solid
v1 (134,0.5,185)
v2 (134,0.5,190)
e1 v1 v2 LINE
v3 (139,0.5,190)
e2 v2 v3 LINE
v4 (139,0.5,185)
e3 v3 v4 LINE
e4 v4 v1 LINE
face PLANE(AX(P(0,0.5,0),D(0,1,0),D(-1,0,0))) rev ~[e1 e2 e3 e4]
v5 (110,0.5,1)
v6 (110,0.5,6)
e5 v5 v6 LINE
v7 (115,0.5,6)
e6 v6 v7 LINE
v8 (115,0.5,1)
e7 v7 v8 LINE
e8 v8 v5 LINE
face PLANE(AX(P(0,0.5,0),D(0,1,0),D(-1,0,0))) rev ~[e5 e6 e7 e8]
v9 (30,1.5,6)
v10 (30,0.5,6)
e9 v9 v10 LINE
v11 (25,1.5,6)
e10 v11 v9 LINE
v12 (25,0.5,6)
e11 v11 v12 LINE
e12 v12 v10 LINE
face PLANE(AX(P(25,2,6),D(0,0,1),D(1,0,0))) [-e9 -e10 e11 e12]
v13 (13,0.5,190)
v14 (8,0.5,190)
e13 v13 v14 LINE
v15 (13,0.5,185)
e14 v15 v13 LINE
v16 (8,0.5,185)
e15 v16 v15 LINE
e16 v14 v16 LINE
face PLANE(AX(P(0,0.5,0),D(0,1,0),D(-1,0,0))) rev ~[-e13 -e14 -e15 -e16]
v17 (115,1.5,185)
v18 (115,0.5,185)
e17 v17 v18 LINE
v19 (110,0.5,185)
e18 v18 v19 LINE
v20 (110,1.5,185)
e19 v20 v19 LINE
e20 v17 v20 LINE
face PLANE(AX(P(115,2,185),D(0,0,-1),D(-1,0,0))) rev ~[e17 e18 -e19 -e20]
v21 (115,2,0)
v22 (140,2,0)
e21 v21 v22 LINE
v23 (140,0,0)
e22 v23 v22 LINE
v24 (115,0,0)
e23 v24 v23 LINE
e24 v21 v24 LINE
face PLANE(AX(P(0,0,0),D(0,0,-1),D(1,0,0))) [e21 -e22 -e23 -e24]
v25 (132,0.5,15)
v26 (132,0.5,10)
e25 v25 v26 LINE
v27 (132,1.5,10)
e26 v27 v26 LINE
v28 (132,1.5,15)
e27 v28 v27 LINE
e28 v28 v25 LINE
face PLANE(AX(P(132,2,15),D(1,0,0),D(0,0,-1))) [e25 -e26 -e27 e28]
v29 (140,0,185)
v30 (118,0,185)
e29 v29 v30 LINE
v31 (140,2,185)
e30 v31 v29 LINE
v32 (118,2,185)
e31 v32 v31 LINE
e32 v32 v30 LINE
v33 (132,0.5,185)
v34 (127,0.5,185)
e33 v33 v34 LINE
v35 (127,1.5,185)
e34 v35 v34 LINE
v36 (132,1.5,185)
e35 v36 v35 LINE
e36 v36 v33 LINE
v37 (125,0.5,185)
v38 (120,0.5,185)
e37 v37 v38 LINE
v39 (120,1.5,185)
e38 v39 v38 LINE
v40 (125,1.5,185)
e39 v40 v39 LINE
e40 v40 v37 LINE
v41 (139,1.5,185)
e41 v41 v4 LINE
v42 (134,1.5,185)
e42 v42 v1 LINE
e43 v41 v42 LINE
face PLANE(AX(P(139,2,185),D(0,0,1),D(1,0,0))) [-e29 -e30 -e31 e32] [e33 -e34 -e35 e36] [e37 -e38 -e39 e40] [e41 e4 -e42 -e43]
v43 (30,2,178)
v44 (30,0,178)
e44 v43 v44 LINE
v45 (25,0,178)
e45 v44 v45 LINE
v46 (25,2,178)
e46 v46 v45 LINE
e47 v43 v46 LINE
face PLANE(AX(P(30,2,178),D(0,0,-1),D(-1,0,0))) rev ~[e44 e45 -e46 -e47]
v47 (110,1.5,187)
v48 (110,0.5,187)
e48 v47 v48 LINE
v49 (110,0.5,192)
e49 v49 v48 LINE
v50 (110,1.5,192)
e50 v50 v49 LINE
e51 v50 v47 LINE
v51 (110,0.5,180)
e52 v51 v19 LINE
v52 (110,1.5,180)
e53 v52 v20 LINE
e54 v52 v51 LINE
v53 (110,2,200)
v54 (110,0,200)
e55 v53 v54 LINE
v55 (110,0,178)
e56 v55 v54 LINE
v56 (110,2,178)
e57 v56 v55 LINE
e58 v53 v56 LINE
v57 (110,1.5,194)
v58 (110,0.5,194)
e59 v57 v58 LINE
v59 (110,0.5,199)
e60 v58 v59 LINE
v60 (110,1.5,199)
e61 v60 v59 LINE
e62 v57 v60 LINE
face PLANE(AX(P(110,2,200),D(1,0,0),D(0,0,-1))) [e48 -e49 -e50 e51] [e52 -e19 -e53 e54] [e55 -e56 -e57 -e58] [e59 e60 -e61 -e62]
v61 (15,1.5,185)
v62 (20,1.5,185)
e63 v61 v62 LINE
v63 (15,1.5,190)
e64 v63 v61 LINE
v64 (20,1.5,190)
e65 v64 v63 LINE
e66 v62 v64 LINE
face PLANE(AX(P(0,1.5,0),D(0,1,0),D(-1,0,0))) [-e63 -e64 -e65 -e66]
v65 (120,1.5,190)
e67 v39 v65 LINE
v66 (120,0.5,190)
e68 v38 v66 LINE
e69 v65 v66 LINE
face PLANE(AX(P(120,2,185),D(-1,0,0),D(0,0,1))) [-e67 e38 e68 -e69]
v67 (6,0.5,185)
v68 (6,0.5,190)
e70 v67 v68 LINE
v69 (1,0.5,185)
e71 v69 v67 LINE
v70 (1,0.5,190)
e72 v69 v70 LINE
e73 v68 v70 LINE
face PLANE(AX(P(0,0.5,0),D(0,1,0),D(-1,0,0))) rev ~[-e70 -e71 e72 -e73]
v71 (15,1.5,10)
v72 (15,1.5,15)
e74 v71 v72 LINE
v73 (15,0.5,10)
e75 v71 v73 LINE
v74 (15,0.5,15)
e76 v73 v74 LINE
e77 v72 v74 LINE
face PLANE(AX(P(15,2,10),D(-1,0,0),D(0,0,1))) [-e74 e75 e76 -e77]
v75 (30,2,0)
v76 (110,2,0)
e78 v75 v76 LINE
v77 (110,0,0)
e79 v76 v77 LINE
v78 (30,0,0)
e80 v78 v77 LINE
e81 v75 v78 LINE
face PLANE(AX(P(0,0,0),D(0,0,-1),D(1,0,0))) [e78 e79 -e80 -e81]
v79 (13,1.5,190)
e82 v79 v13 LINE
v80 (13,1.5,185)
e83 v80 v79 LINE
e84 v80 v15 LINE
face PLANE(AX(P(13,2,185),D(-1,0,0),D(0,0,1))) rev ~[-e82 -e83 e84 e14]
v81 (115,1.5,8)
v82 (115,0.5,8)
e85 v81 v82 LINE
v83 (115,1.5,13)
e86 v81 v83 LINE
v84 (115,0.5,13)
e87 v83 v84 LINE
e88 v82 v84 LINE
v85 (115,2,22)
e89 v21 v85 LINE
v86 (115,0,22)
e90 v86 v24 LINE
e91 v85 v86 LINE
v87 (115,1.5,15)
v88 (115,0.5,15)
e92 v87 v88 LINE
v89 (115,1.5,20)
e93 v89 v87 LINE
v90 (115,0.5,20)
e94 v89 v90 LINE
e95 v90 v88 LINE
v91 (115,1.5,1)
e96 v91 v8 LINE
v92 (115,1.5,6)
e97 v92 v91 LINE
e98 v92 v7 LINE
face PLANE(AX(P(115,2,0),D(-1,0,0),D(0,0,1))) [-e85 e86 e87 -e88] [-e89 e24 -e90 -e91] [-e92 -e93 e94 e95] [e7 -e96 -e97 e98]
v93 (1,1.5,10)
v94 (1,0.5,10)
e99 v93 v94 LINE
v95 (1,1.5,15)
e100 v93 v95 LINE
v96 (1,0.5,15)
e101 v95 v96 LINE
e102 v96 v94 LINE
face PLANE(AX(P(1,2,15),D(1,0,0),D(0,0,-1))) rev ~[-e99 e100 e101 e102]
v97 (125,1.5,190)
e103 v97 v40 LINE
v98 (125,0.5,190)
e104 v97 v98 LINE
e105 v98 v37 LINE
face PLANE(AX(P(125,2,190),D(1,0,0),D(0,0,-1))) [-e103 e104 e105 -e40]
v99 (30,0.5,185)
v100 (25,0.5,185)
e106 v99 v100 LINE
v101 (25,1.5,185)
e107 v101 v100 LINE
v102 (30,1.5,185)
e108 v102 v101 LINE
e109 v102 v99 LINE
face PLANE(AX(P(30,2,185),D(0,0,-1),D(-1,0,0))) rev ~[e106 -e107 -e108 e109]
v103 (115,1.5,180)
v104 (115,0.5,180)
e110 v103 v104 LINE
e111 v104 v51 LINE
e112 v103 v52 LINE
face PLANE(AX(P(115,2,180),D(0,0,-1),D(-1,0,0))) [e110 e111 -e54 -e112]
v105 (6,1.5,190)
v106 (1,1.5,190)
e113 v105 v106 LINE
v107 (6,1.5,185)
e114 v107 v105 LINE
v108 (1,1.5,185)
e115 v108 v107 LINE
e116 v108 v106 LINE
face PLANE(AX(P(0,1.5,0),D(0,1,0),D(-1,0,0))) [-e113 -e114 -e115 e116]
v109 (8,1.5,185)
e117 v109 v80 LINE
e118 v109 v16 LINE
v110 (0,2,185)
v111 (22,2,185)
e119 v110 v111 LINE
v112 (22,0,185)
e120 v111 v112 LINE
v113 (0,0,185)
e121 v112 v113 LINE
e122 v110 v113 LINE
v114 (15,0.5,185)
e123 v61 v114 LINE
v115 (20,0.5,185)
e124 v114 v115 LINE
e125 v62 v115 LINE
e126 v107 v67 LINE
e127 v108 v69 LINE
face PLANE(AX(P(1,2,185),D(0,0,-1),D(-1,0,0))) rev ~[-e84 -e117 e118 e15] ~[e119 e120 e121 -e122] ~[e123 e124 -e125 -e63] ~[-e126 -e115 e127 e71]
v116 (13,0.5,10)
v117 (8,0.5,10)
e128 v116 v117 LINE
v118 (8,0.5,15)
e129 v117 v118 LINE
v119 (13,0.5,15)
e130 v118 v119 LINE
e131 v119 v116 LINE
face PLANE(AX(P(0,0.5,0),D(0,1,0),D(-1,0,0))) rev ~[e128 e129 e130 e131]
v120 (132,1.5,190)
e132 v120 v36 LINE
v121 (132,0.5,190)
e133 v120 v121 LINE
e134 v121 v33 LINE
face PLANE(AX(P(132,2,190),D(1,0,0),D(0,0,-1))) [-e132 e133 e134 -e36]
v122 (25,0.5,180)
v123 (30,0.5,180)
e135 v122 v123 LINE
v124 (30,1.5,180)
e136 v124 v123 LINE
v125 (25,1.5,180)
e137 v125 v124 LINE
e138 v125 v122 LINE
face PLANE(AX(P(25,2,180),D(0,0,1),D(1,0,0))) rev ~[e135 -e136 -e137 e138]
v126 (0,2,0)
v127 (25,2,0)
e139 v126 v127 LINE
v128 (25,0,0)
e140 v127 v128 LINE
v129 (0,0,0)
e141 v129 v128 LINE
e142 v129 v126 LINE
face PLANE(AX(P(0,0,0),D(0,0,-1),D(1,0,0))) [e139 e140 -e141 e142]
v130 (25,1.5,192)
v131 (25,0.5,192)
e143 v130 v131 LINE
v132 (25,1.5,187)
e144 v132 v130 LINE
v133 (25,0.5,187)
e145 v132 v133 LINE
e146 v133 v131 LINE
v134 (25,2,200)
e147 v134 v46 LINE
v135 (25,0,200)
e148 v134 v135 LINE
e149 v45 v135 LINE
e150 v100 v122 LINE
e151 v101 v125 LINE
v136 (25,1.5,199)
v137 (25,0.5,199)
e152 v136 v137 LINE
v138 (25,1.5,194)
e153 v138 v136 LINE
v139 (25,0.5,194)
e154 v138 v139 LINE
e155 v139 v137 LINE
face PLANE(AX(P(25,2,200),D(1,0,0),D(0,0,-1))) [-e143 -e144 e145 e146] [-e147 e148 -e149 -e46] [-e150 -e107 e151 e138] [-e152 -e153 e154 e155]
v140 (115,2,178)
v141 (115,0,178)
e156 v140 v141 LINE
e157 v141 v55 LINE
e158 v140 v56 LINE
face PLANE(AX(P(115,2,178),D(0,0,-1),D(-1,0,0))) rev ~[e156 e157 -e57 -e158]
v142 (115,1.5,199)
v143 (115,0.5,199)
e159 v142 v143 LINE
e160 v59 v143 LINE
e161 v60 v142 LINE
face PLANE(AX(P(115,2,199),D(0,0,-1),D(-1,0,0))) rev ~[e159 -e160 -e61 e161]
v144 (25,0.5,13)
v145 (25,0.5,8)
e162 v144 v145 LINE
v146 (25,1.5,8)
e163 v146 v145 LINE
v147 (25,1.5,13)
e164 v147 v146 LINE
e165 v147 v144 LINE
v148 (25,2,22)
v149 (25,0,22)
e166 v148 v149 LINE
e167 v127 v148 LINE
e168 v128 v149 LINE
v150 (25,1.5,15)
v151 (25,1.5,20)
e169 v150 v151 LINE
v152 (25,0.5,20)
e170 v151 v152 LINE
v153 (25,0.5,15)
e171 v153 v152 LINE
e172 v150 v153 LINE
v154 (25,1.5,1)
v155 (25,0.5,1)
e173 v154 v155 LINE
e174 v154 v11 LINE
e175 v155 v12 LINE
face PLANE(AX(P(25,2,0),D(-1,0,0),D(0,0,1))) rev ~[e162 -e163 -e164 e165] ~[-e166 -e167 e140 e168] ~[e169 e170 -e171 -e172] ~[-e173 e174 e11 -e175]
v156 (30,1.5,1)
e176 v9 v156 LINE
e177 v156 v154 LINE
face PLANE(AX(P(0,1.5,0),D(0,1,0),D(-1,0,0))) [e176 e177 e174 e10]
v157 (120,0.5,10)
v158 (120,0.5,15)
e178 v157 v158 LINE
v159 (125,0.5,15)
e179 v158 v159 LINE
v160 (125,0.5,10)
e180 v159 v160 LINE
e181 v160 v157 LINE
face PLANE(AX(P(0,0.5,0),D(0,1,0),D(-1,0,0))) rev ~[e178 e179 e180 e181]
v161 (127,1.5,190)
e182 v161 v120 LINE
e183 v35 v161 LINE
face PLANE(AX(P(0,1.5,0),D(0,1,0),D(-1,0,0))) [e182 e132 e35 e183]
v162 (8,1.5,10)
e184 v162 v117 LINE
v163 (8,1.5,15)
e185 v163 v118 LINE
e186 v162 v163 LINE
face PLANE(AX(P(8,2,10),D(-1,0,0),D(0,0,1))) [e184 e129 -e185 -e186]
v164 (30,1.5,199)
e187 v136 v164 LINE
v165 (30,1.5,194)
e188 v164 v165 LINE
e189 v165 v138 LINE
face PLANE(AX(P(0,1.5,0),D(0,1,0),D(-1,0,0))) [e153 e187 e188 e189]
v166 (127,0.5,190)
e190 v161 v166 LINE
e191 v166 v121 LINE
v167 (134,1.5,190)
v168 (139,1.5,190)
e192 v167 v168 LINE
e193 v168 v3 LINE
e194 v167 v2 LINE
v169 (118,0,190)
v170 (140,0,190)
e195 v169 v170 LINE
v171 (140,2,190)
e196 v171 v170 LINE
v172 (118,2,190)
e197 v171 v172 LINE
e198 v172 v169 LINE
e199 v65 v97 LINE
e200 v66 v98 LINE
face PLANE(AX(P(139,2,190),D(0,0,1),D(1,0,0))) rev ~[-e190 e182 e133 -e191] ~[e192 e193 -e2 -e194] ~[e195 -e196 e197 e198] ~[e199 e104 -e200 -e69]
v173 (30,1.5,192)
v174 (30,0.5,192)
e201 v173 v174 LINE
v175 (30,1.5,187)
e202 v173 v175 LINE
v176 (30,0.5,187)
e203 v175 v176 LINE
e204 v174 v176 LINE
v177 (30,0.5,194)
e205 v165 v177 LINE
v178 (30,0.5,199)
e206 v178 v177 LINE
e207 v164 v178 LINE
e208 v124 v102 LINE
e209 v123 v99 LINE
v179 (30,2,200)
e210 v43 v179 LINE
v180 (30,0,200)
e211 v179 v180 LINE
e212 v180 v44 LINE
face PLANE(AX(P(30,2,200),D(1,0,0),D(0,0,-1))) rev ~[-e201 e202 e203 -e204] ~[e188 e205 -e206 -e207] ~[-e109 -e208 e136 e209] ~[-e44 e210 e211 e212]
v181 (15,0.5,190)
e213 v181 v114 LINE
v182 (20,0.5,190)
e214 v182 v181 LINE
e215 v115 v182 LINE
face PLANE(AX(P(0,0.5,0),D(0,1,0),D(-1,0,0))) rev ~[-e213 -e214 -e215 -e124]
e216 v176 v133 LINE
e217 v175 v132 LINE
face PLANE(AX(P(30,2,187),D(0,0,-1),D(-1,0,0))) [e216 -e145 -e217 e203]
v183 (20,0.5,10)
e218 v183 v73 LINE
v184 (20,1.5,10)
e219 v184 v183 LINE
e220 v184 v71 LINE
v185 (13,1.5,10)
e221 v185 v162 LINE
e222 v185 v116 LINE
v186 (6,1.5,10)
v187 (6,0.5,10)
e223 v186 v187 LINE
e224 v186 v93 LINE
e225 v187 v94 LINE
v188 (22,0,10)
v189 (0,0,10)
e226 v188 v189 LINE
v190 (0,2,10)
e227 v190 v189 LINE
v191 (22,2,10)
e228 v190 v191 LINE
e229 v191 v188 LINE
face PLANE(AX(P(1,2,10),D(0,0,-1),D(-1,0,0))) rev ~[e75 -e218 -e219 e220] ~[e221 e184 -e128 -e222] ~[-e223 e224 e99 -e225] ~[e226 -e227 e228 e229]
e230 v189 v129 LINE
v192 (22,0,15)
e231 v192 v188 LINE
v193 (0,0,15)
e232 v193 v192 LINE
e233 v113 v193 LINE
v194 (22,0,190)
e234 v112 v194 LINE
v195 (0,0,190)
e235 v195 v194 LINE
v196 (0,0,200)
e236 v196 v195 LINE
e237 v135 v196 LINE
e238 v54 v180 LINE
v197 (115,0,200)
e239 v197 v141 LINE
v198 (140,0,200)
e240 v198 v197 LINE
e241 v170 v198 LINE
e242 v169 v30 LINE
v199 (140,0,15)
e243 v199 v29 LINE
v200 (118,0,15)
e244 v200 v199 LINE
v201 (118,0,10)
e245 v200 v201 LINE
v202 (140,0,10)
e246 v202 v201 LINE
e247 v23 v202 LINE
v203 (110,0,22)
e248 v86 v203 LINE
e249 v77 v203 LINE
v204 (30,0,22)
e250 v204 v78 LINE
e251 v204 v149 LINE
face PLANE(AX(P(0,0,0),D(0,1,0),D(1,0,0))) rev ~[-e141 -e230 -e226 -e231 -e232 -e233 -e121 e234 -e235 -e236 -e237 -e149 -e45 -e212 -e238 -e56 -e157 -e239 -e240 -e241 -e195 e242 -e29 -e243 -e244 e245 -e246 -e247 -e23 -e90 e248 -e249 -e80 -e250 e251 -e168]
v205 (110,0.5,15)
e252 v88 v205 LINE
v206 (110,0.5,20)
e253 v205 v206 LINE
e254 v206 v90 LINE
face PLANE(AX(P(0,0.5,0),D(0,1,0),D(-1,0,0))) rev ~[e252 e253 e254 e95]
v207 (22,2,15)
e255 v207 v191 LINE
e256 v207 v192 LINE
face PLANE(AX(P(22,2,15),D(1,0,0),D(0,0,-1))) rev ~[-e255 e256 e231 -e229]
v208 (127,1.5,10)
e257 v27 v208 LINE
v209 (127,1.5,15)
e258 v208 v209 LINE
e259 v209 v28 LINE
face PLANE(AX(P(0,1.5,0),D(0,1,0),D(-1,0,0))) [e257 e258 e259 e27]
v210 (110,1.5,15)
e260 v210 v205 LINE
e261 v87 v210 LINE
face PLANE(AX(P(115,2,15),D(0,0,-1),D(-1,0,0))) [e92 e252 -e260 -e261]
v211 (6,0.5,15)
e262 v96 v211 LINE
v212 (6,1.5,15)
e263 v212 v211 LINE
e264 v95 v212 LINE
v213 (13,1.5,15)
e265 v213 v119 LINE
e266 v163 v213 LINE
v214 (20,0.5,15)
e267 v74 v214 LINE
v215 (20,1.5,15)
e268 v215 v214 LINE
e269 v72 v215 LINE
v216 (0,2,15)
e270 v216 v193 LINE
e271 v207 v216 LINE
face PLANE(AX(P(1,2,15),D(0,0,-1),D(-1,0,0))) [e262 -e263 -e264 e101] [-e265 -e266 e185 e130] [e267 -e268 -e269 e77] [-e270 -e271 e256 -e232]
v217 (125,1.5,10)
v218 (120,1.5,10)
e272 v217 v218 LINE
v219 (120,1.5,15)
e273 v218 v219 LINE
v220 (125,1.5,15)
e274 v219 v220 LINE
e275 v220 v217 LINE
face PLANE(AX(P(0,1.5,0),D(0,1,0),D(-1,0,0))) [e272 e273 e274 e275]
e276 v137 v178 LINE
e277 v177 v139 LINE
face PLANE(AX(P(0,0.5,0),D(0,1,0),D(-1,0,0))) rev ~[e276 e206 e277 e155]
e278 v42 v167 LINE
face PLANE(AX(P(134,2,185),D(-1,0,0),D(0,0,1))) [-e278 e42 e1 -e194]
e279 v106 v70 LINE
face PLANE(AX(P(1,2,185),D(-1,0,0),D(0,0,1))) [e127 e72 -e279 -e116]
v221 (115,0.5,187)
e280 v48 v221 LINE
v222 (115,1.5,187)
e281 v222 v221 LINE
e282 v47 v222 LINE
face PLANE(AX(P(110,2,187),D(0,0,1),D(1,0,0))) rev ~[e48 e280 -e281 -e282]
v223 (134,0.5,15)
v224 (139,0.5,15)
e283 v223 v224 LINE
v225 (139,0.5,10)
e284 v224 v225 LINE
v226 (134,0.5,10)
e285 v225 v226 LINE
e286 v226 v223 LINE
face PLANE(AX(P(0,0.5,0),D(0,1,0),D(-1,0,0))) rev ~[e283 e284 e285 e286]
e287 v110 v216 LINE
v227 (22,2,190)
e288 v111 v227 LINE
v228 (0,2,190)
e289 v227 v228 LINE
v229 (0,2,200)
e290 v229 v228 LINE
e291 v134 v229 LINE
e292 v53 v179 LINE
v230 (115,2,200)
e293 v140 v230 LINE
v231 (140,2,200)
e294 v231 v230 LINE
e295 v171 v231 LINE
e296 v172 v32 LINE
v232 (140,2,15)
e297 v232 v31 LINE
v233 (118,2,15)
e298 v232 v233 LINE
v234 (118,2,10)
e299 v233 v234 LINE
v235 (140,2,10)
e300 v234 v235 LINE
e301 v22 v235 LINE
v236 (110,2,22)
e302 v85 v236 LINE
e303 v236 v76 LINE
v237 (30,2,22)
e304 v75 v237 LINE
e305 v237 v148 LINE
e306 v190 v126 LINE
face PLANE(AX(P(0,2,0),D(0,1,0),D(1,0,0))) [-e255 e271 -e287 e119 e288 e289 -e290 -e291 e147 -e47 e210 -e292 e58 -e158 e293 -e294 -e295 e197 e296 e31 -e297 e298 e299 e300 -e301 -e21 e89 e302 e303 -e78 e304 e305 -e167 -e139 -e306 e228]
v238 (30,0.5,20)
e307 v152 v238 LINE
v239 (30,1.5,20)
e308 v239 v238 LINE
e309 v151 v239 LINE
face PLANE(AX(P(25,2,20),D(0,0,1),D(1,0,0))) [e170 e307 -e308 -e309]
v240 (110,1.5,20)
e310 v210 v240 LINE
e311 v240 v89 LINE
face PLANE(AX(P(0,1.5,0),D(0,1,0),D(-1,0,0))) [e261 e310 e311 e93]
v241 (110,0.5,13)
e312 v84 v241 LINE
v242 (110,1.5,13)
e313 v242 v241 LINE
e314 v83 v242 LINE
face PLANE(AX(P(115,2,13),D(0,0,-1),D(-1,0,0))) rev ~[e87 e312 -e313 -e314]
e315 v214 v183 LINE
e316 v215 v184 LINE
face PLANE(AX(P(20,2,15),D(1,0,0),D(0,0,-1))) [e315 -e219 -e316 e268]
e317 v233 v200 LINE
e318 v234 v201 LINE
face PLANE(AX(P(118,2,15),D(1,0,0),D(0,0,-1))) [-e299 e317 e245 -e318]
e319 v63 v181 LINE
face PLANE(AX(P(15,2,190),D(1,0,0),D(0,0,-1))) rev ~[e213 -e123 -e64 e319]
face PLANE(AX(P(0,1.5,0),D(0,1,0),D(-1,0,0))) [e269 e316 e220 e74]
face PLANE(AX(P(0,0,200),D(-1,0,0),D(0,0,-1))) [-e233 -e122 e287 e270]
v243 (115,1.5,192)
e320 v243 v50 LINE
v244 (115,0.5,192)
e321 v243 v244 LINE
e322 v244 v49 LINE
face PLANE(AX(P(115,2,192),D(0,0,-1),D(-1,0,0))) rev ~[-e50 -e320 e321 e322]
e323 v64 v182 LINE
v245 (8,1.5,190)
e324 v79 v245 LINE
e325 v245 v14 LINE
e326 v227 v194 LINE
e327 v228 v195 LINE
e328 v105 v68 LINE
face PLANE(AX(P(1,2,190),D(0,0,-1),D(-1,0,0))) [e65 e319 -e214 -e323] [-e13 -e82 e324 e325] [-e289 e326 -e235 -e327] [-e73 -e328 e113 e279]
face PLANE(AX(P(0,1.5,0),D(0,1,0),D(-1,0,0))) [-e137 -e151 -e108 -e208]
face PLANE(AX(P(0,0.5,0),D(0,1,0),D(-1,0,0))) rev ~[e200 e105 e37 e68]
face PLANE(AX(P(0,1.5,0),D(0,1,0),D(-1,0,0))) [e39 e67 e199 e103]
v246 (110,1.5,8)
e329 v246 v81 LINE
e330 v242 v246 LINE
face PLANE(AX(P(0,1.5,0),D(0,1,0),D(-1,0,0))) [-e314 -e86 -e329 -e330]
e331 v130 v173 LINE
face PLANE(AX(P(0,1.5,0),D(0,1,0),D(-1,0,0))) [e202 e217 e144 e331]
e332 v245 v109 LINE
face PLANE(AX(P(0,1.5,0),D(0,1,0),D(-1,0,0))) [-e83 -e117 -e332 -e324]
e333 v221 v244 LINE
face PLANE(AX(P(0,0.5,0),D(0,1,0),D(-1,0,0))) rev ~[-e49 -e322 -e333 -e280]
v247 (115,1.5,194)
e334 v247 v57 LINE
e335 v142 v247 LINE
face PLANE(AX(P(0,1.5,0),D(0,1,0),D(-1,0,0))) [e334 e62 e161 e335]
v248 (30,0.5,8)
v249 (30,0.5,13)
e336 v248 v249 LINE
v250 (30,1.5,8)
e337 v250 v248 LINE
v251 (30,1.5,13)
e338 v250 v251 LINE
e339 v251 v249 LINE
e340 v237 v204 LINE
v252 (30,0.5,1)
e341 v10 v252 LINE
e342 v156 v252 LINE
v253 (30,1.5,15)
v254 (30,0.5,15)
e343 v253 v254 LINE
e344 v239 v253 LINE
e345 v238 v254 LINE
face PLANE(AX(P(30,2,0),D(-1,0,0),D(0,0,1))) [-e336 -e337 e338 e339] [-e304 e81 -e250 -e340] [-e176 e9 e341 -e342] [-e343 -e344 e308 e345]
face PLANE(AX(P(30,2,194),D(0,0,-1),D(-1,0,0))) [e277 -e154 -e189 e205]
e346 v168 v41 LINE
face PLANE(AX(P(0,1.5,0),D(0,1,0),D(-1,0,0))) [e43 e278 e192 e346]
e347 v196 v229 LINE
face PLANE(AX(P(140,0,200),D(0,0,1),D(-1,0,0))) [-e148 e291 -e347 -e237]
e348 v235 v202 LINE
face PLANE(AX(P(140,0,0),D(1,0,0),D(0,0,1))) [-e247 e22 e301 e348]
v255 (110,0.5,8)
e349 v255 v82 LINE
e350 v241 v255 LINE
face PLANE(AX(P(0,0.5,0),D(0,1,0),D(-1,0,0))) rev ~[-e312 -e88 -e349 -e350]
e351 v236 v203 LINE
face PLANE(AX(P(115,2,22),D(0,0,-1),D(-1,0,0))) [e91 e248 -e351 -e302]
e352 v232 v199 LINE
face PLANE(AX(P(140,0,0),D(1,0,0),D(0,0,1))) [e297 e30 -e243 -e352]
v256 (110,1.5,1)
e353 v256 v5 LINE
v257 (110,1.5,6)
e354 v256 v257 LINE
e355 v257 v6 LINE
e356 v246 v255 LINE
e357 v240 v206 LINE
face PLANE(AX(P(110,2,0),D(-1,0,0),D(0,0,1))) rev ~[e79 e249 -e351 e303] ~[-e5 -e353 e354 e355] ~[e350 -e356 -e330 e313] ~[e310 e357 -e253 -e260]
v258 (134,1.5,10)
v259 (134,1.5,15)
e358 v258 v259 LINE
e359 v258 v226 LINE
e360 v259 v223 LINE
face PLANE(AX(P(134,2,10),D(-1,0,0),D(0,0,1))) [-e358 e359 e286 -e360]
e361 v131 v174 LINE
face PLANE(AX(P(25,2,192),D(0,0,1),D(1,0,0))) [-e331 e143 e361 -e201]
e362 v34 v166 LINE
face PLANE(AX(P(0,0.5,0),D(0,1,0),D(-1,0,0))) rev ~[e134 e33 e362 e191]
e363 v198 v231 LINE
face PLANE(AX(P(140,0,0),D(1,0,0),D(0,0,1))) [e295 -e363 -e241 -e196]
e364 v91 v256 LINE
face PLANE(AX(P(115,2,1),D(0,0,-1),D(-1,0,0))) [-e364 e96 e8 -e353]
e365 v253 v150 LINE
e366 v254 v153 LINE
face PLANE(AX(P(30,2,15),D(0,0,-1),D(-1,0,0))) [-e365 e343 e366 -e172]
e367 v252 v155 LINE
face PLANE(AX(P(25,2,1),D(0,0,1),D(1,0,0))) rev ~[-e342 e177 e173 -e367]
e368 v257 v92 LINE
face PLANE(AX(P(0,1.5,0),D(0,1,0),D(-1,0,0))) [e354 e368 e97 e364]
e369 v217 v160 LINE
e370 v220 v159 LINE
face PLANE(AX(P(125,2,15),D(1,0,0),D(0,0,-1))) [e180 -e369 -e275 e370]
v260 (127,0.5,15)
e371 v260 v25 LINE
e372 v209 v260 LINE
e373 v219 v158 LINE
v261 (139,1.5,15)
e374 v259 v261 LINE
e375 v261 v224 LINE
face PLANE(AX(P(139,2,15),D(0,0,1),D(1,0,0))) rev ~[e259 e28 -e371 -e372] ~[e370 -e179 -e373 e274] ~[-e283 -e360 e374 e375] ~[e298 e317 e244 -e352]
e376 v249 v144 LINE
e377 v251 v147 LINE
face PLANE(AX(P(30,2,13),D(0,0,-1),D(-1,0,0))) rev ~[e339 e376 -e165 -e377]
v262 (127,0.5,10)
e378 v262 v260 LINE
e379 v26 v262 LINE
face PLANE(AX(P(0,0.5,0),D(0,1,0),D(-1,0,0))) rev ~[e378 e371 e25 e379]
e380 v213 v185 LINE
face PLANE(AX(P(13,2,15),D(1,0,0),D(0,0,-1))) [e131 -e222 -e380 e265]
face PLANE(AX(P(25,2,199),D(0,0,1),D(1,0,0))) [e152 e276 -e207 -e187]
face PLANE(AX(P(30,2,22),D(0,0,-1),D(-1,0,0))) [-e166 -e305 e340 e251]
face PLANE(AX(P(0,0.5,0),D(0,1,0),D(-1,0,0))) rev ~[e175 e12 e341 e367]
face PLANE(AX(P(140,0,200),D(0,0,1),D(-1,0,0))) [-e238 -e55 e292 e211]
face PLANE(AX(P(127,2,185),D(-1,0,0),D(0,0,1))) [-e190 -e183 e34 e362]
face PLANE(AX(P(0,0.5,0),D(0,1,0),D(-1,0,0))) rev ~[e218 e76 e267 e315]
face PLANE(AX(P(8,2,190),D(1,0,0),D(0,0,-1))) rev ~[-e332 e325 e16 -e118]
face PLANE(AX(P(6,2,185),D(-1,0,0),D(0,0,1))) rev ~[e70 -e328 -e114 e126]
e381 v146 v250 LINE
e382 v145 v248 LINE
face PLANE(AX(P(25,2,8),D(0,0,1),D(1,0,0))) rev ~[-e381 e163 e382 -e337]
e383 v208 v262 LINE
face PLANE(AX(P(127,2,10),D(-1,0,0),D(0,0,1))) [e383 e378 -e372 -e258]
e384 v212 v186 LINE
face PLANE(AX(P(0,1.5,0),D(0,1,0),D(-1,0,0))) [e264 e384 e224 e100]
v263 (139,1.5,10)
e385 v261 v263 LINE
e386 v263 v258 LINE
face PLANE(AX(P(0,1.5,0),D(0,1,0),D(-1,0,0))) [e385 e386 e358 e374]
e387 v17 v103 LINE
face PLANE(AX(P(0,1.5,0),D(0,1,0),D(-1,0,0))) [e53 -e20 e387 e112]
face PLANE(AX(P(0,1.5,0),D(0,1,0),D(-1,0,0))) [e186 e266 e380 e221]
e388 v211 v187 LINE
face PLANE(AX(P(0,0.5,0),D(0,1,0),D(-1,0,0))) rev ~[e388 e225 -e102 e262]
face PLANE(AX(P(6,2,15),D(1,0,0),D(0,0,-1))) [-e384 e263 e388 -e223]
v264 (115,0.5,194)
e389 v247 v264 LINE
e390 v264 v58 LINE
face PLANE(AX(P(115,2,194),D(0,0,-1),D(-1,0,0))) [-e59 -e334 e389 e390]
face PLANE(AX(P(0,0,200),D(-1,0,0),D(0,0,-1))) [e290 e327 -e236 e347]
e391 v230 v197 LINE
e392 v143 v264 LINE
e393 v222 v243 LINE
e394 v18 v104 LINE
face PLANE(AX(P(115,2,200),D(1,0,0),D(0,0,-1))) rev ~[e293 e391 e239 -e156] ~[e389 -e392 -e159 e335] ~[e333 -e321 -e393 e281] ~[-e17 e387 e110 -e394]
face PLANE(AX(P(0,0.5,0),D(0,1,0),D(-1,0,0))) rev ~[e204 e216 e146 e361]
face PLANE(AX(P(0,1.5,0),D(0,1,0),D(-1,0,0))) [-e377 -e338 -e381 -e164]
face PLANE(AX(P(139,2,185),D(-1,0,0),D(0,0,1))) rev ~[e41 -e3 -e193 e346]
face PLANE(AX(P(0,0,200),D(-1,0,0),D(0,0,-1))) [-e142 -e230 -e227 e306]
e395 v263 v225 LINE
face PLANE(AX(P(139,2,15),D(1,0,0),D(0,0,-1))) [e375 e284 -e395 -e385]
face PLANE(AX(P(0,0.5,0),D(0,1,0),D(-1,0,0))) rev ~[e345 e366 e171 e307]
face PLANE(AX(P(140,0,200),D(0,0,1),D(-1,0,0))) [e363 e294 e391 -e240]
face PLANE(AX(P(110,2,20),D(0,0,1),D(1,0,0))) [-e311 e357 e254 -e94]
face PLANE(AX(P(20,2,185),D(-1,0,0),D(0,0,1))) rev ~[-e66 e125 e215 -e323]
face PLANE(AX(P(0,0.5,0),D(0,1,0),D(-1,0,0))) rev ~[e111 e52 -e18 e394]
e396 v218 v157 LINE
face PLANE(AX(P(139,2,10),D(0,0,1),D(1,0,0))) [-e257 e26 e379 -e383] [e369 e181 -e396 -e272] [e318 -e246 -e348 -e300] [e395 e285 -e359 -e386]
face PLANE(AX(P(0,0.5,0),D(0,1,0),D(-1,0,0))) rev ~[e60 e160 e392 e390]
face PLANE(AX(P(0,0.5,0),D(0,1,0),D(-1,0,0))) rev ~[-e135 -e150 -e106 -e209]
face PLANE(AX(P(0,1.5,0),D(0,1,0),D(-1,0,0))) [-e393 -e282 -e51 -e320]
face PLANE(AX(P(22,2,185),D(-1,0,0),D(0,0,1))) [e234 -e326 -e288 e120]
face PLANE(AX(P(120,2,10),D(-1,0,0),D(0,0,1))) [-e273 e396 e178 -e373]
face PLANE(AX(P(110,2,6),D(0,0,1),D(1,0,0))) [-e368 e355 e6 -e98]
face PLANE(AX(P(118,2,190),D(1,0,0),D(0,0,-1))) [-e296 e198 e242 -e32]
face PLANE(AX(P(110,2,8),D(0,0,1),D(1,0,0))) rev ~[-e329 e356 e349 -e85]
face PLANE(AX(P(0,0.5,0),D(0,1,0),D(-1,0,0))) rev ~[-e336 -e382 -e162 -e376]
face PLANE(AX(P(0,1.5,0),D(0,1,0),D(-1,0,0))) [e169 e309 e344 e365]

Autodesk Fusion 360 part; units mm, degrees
sketch "Sketch1" plane through (0, 0, 0) normal (0, 1, 0) x (1, 0, 0)
  line L0 (0, 0) -> (140, 0)
  line L1 (140, 0) -> (140, -200)
  line L2 (140, -200) -> (0, -200)
  line L3 (0, -200) -> (0, 0)
  dimension "d1" = 140
  dimension "d2" = 200
extrude "Extrude1" add sketch "Sketch1" along normal blind 2
sketch "Sketch2" plane through (0, 2, 0) normal (0, 1, 0) x (-1, 0, 0)
  line L0 (0, 200) -> (-140, 200)
  line L1 (-140, 200) -> (-140, 0)
  line L2 (-140, 0) -> (0, 0)
  line L3 (0, 0) -> (0, 200)
  line L4 (0, 0) -> (-30, 0)
  line L5 (-30, 0) -> (-30, 15)
  line L6 (-30, 15) -> (0, 15)
  line L7 (0, 15) -> (0, 0)
  line L8 (-140, 0) -> (-110, 0)
  line L9 (-110, 0) -> (-110, 15)
  line L10 (-110, 15) -> (-140, 15)
  line L11 (-140, 15) -> (-140, 0)
  line L12 (0, 200) -> (-30, 200)
  line L13 (-30, 200) -> (-30, 185)
  line L14 (-30, 185) -> (0, 185)
  line L15 (0, 185) -> (0, 200)
  line L16 (-140, 200) -> (-110, 200)
  line L17 (-110, 200) -> (-110, 185)
  line L18 (-110, 185) -> (-140, 185)
  line L19 (-140, 185) -> (-140, 200)
  line L20 (-110, 200) -> (-113, 200)
  line L21 (-140, 185) -> (-139, 185)
  line L22 (-110, 200) -> (-110, 199)
  line L23 (-120.831, 200) -> (-110, 200)
  line L24 (-110, 200) -> (-110, 199)
  line L25 (-30, 200) -> (-25, 200)
  line L26 (-25, 200) -> (-25, 199)
  line L27 (-25, 199) -> (-30, 199)
  line L28 (-30, 199) -> (-30, 200)
  line L29 (0, 185) -> (-1, 185)
  line L30 (-1, 185) -> (-1, 190)
  line L31 (-1, 190) -> (0, 190)
  line L32 (0, 190) -> (0, 185)
  line L33 (-140, 15) -> (-139, 15)
  line L34 (-139, 15) -> (-139, 10)
  line L35 (-139, 10) -> (-140, 10)
  line L36 (-140, 10) -> (-140, 15)
  line L37 (-110, 0) -> (-115, 0)
  line L38 (-115, 0) -> (-115, 1)
  line L39 (-115, 1) -> (-110, 1)
  line L40 (-110, 1) -> (-110, 0)
  line L41 (-30, 0) -> (-25, 0)
  line L42 (-25, 0) -> (-25, 1)
  line L43 (-25, 1) -> (-30, 1)
  line L44 (-30, 1) -> (-30, 0)
  line L45 (0, 15) -> (-1, 15)
  line L46 (-1, 15) -> (-1, 10)
  line L47 (-1, 10) -> (0, 10)
  line L48 (0, 10) -> (0, 15)
  line L49 (-140, 185) -> (-139, 185)
  line L50 (-139, 185) -> (-139, 190)
  line L51 (-139, 190) -> (-140, 190)
  line L52 (-140, 190) -> (-140, 185)
  line L53 (-110, 200) -> (-115, 200)
  line L54 (-115, 200) -> (-115, 199)
  line L55 (-115, 199) -> (-110, 199)
  line L56 (-110, 199) -> (-110, 200)
  dimension "d5" = 30
  dimension "d6" = 15
  dimension "d7" = 30
  dimension "d8" = 15
  dimension "d9" = 30
  dimension "d10" = 15
  dimension "d11" = 30
  dimension "d12" = 15
  dimension "d13" = 3
  dimension "d18" = 1
  dimension "d19" = 1
  dimension "d20" = 5
  dimension "d21" = 1
  dimension "d22" = 1
  dimension "d23" = 5
  dimension "d24" = 1
  dimension "d25" = 5
  dimension "d26" = 5
  dimension "d27" = 1
  dimension "d28" = 5
  dimension "d29" = 1
  dimension "d30" = 1
  dimension "d31" = 5
  dimension "d34" = 1
  dimension "d35" = 5
  dimension "d36" = 5
  dimension "d37" = 1
extrude "Extrude2" cut sketch "Sketch2" against normal blind 2 contours L0 L12 L13 L25 L26 L27 L28 | L3 L14 L15 L29 L30 L31 L32 | L0 L16 L17 L20 L22 L23 L24 L53 L54 L55 L56 | L3 L6 L7 L45 L46 L47 L48 | L1 L18 L19 L21 L49 L50 L51 L52 | L2 L4 L5 L41 L42 L43 L44 | L1 L10 L11 L33 L34 L35 L36 | L2 L8 L9 L37 L38 L39 L40
sketch "Sketch3" plane through (0, 2, 0) normal (0, 1, 0) x (-1, 0, 0)
  line L0 (-110, 1) -> (-110, 0)
  line L1 (-110, 0) -> (-30, 0)
  line L2 (-30, 0) -> (-30, 1)
  line L3 (-30, 1) -> (-25, 1)
  line L4 (-25, 0) -> (0, 0)
  line L5 (0, 0) -> (0, 10)
  line L6 (0, 10) -> (-1, 10)
  line L7 (-1, 10) -> (-1, 15)
  line L8 (-1, 15) -> (0, 15)
  line L9 (0, 15) -> (0, 185)
  line L10 (0, 185) -> (-1, 185)
  line L11 (-1, 185) -> (-1, 190)
  line L12 (-1, 190) -> (0, 190)
  line L13 (0, 190) -> (0, 200)
  line L14 (0, 200) -> (-25, 200)
  line L15 (-25, 200) -> (-25, 199)
  line L16 (-25, 199) -> (-30, 199)
  line L17 (-30, 199) -> (-30, 200)
  line L18 (-30, 200) -> (-110, 200)
  line L19 (-110, 200) -> (-110, 199)
  line L20 (-110, 199) -> (-115, 199)
  line L21 (-115, 199) -> (-115, 200)
  line L22 (-115, 200) -> (-140, 200)
  line L23 (-140, 200) -> (-140, 190)
  line L24 (-140, 190) -> (-139, 190)
  line L25 (-139, 190) -> (-139, 185)
  line L26 (-139, 185) -> (-140, 185)
  line L27 (-140, 185) -> (-140, 15)
  line L28 (-140, 15) -> (-139, 15)
  line L29 (-139, 15) -> (-139, 10)
  line L30 (-139, 10) -> (-140, 10)
  line L31 (-140, 10) -> (-140, 0)
  line L32 (-140, 0) -> (-115, 0)
  line L33 (-115, 1) -> (-110, 1)
  line L34 (-110, 199) -> (-115, 199)
  line L35 (-115, 199) -> (-115, 194)
  line L36 (-115, 194) -> (-110, 194)
  line L37 (-110, 194) -> (-110, 199)
  line L38 (-110, 194) -> (-115, 194)
  line L39 (-115, 194) -> (-115, 192)
  line L40 (-115, 192) -> (-110, 192)
  line L41 (-110, 192) -> (-110, 194)
  line L42 (-115, 192) -> (-110, 192)
  line L43 (-110, 192) -> (-110, 187)
  line L44 (-110, 187) -> (-115, 187)
  line L45 (-115, 187) -> (-115, 192)
  line L46 (-110, 187) -> (-115, 187)
  line L47 (-115, 187) -> (-115, 185)
  line L48 (-115, 185) -> (-110, 185)
  line L49 (-110, 185) -> (-110, 187)
  line L50 (-139, 185) -> (-134, 185)
  line L51 (-134, 185) -> (-134, 190)
  line L52 (-134, 190) -> (-139, 190)
  line L53 (-139, 190) -> (-139, 185)
  line L54 (-134, 190) -> (-132, 190)
  line L55 (-132, 190) -> (-132, 185)
  line L56 (-132, 185) -> (-134, 185)
  line L57 (-134, 185) -> (-134, 190)
  line L58 (-132, 185) -> (-127, 185)
  line L59 (-127, 185) -> (-127, 190)
  line L60 (-127, 190) -> (-132, 190)
  line L61 (-132, 190) -> (-132, 185)
  line L62 (-127, 190) -> (-125, 190)
  line L63 (-125, 190) -> (-125, 185)
  line L64 (-125, 185) -> (-127, 185)
  line L65 (-127, 185) -> (-127, 190)
  line L66 (-25, 199) -> (-30, 199)
  line L67 (-30, 199) -> (-30, 194)
  line L68 (-30, 194) -> (-25, 194)
  line L69 (-25, 194) -> (-25, 199)
  line L70 (-30, 194) -> (-25, 194)
  line L71 (-25, 194) -> (-25, 192)
  line L72 (-25, 192) -> (-30, 192)
  line L73 (-30, 192) -> (-30, 194)
  line L74 (-25, 192) -> (-30, 192)
  line L75 (-30, 192) -> (-30, 187)
  line L76 (-30, 187) -> (-25, 187)
  line L77 (-25, 187) -> (-25, 192)
  line L78 (-25, 187) -> (-30, 187)
  line L79 (-30, 187) -> (-30, 185)
  line L80 (-30, 185) -> (-25, 185)
  line L81 (-25, 185) -> (-25, 187)
  line L82 (-30, 185) -> (-25, 185)
  line L83 (-25, 185) -> (-25, 180)
  line L84 (-25, 180) -> (-30, 180)
  line L85 (-30, 180) -> (-30, 185)
  line L86 (-110, 185) -> (-115, 185)
  line L87 (-115, 185) -> (-115, 180)
  line L88 (-115, 180) -> (-110, 180)
  line L89 (-110, 180) -> (-110, 185)
  line L90 (-125, 185) -> (-120, 185)
  line L91 (-120, 185) -> (-120, 190)
  line L92 (-120, 190) -> (-125, 190)
  line L93 (-125, 190) -> (-125, 185)
  line L94 (-1, 185) -> (-6, 185)
  line L95 (-6, 185) -> (-6, 190)
  line L96 (-6, 190) -> (-1, 190)
  line L97 (-1, 190) -> (-1, 185)
  line L98 (-6, 190) -> (-8, 190)
  line L99 (-8, 190) -> (-8, 185)
  line L100 (-8, 185) -> (-6, 185)
  line L101 (-6, 185) -> (-6, 190)
  line L102 (-8, 185) -> (-13, 185)
  line L103 (-13, 185) -> (-13, 190)
  line L104 (-13, 190) -> (-8, 190)
  line L105 (-8, 190) -> (-8, 185)
  line L106 (-13, 190) -> (-15, 190)
  line L107 (-15, 190) -> (-15, 185)
  line L108 (-15, 185) -> (-13, 185)
  line L109 (-13, 185) -> (-13, 190)
  line L110 (-15, 185) -> (-20, 185)
  line L111 (-20, 185) -> (-20, 190)
  line L112 (-20, 190) -> (-15, 190)
  line L113 (-15, 190) -> (-15, 185)
  line L114 (-120, 15) -> (-125, 15)
  line L115 (-125, 10) -> (-120, 10)
  line L116 (-132, 15) -> (-132, 10)
  line L117 (-125, 15) -> (-125, 10)
  line L118 (-125, 10) -> (-127, 10)
  line L119 (-127, 10) -> (-127, 15)
  line L120 (-134, 15) -> (-132, 15)
  line L121 (-139, 10) -> (-134, 10)
  line L122 (-127, 15) -> (-132, 15)
  line L123 (-127, 10) -> (-127, 15)
  line L124 (-134, 10) -> (-134, 15)
  line L125 (-127, 15) -> (-125, 15)
  line L126 (-125, 15) -> (-125, 10)
  line L127 (-134, 15) -> (-139, 15)
  line L128 (-132, 10) -> (-134, 10)
  line L129 (-132, 10) -> (-127, 10)
  line L130 (-139, 15) -> (-139, 10)
  line L131 (-134, 10) -> (-134, 15)
  line L132 (-132, 15) -> (-132, 10)
  line L133 (-139, 15) -> (-139, 10)
  line L134 (-1, 15) -> (-6, 15)
  line L135 (-6, 10) -> (-1, 10)
  line L136 (-13, 15) -> (-13, 10)
  line L137 (-6, 15) -> (-6, 10)
  line L138 (-6, 10) -> (-8, 10)
  line L139 (-8, 10) -> (-8, 15)
  line L140 (-15, 15) -> (-13, 15)
  line L141 (-20, 10) -> (-15, 10)
  line L142 (-8, 15) -> (-13, 15)
  line L143 (-8, 10) -> (-8, 15)
  line L144 (-15, 10) -> (-15, 15)
  line L145 (-8, 15) -> (-6, 15)
  line L146 (-6, 15) -> (-6, 10)
  line L147 (-1, 12) -> (-1, 10)
  line L148 (-15, 15) -> (-20, 15)
  line L149 (-13, 10) -> (-15, 10)
  line L150 (-13, 10) -> (-8, 10)
  line L151 (-15, 10) -> (-15, 15)
  line L152 (-13, 15) -> (-13, 10)
  line L153 (-1, 10) -> (-1, 15)
  line L154 (-120, 190) -> (-118, 190)
  line L155 (-118, 190) -> (-118, 185)
  line L156 (-118, 185) -> (-120, 185)
  line L157 (-120, 185) -> (-120, 190)
  line L158 (-110, 180) -> (-115, 180)
  line L159 (-115, 180) -> (-115, 178)
  line L160 (-115, 178) -> (-110, 178)
  line L161 (-110, 178) -> (-110, 180)
  line L162 (-20, 185) -> (-22, 185)
  line L163 (-22, 185) -> (-22, 190)
  line L164 (-22, 190) -> (-20, 190)
  line L165 (-20, 190) -> (-20, 185)
  line L166 (-25, 180) -> (-30, 180)
  line L167 (-30, 180) -> (-30, 178)
  line L168 (-30, 178) -> (-25, 178)
  line L169 (-25, 178) -> (-25, 180)
  line L170 (-20, 15) -> (-20, 10)
  line L171 (-20, 15) -> (-22, 15)
  line L172 (-22, 15) -> (-22, 10)
  line L173 (-22, 10) -> (-20, 10)
  line L174 (-20, 10) -> (-20, 15)
  line L175 (-120, 15) -> (-118, 15)
  line L176 (-118, 15) -> (-118, 10)
  line L177 (-118, 10) -> (-120, 10)
  line L178 (-120, 10) -> (-120, 15)
  line L179 (-115, 8) -> (-115, 13)
  line L180 (-110, 13) -> (-110, 15)
  line L181 (-115, 13) -> (-110, 13)
  line L182 (-110, 20) -> (-115, 20)
  line L183 (-115, 6) -> (-115, 1)
  line L184 (-110, 6) -> (-115, 6)
  line L185 (-110, 8) -> (-115, 8)
  line L186 (-115, 15) -> (-115, 13)
  line L187 (-110, 8) -> (-115, 8)
  line L188 (-110, 20) -> (-115, 20)
  line L189 (-110, 15) -> (-110, 20)
  line L190 (-115, 13) -> (-110, 13)
  line L191 (-110, 13) -> (-110, 8)
  line L192 (-110, 1) -> (-115, 1)
  line L193 (-115, 8) -> (-115, 6)
  line L194 (-115, 20) -> (-115, 15)
  line L195 (-115, 1) -> (-110, 1)
  line L196 (-115, 6) -> (-110, 6)
  line L197 (-115, 15) -> (-110, 15)
  line L198 (-110, 6) -> (-110, 8)
  line L199 (-110, 15) -> (-115, 15)
  line L200 (-110, 1) -> (-110, 6)
  line L201 (-30, 8) -> (-30, 13)
  line L202 (-25, 13) -> (-25, 15)
  line L203 (-30, 13) -> (-25, 13)
  line L204 (-25, 20) -> (-30, 20)
  line L205 (-30, 6) -> (-30, 1)
  line L206 (-25, 6) -> (-30, 6)
  line L207 (-25, 8) -> (-30, 8)
  line L208 (-30, 15) -> (-30, 13)
  line L209 (-25, 8) -> (-30, 8)
  line L210 (-25, 20) -> (-30, 20)
  line L211 (-25, 15) -> (-25, 20)
  line L212 (-30, 13) -> (-25, 13)
  line L213 (-25, 13) -> (-25, 8)
  line L214 (-25, 1) -> (-30, 1)
  line L215 (-30, 8) -> (-30, 6)
  line L216 (-30, 20) -> (-30, 15)
  line L217 (-30, 1) -> (-25, 1)
  line L218 (-30, 6) -> (-25, 6)
  line L219 (-30, 15) -> (-25, 15)
  line L220 (-25, 6) -> (-25, 8)
  line L221 (-25, 15) -> (-30, 15)
  line L222 (-25, 1) -> (-25, 6)
  line L223 (-25, 20) -> (-30, 20)
  line L224 (-30, 20) -> (-30, 22)
  line L225 (-30, 22) -> (-25, 22)
  line L226 (-25, 22) -> (-25, 20)
  line L227 (-110, 20) -> (-115, 20)
  line L228 (-115, 20) -> (-115, 22)
  line L229 (-115, 22) -> (-110, 22)
  line L230 (-110, 22) -> (-110, 20)
  point P0 (-1, 10)
  point P1 (-1, 12)
  dimension "d38" = 5
  dimension "d39" = 5
  dimension "d40" = 5
  dimension "d41" = 2
  dimension "d42" = 5
  dimension "d43" = 5
  dimension "d44" = 5
  dimension "d45" = 2
  dimension "d46" = 5
  dimension "d47" = 5
  dimension "d48" = 2
  dimension "d49" = 5
  dimension "d50" = 5
  dimension "d51" = 5
  dimension "d52" = 2
  dimension "d53" = 5
  dimension "d54" = 5
  dimension "d55" = 5
  dimension "d56" = 5
  dimension "d57" = 2
  dimension "d58" = 5
  dimension "d59" = 5
  dimension "d60" = 5
  dimension "d61" = 2
  dimension "d62" = 5
  dimension "d63" = 5
  dimension "d64" = 5
  dimension "d65" = 5
  dimension "d66" = 5
  dimension "d67" = 5
  dimension "d68" = 5
  dimension "d69" = 5
  dimension "d70" = 2
  dimension "d71" = 5
  dimension "d72" = 5
  dimension "d73" = 5
  dimension "d74" = 2
  dimension "d75" = 5
  dimension "d76" = 5
  dimension "d77" = 5
  dimension "d78" = 5
  dimension "d79" = 5
  dimension "d80" = 2
  dimension "d81" = 5
  dimension "d82" = 5
  dimension "d83" = 5
  dimension "d84" = 2
  dimension "d85" = 5
  dimension "d86" = 5
  dimension "d87" = 5
  dimension "d88" = 5
  dimension "d90" = 2
  dimension "d91" = 5
  dimension "d92" = 5
  dimension "d93" = 5
  dimension "d94" = 2
  dimension "d95" = 5
  dimension "d96" = 5
  dimension "d97" = 5
  dimension "d126" = 2
  dimension "d127" = 5
  dimension "d128" = 2
  dimension "d129" = 2
  dimension "d130" = 5
  dimension "d131" = 2
  dimension "d132" = 2
  dimension "d133" = 2
  dimension "d134" = 5
  dimension "d135" = 5
  dimension "d136" = 5
  dimension "d137" = 2
  dimension "d138" = 5
  dimension "d139" = 5
  dimension "d140" = 5
  dimension "d141" = 2
  dimension "d142" = 5
  dimension "d143" = 5
  dimension "d144" = 5
  dimension "d145" = 5
  dimension "d146" = 5
  dimension "d147" = 5
  dimension "d148" = 2
  dimension "d149" = 5
  dimension "d150" = 5
  dimension "d151" = 5
  dimension "d152" = 2
  dimension "d153" = 5
  dimension "d154" = 5
  dimension "d155" = 5
  dimension "d156" = 2
  dimension "d157" = 2
extrude "Extrude3" cut sketch "Sketch3" against normal blind 2 contours L184 L185 L187 L193 L196 L198 | L180 L181 L186 L190 L197 L199 | L206 L207 L209 L215 L218 L220 | L182 L188 L227 L228 L229 L230 | L202 L203 L208 L212 L219 L221 | L204 L210 L223 L224 L225 L226 | L137 L138 L139 L143 L145 L146 | L136 L140 L144 L149 L151 L152 | L170 L171 L172 L173 L174 | L95 L98 L99 L100 L101 L105 | L103 L106 L107 L108 L109 L113 | L111 L162 L163 L164 L165 | L68 L70 L71 L72 L73 L74 | L76 L78 L79 L80 L81 L82 | L36 L38 L39 L40 L41 L42 | L84 L166 L167 L168 L169 | L44 L46 L47 L48 L49 L86 | L88 L158 L159 L160 L161 | L51 L54 L55 L56 L57 L61 | L59 L62 L63 L64 L65 L93 | L116 L120 L124 L128 L131 L132 | L91 L154 L155 L156 L157 | L117 L118 L119 L123 L125 L126 | L175 L176 L177 L178
extrude "Extrude4" cut sketch "Sketch3" against normal blind 0.5 contours L3 L205 L206 L214 L217 L218 L222 | L33 L183 L184 L192 L195 L196 L200 | L179 L181 L185 L187 L190 L191 | L182 L188 L189 L194 L197 L199 L227 | L201 L203 L207 L209 L212 L213 | L204 L210 L211 L216 L219 L221 L223 | L7 L134 L135 L137 L146 L147 L153 | L29 L121 L124 L127 L130 L131 L133 | L25 L50 L51 L52 L53 L57 | L20 L34 L35 L36 L37 L38 | L16 L66 L67 L68 L69 L70 | L11 L94 L95 L96 L97 L101 | L136 L139 L142 L143 L150 L152 | L141 L144 L148 L151 L170 L174 | L99 L102 L103 L104 L105 L109 | L107 L110 L111 L112 L113 L165 | L72 L74 L75 L76 L77 L78 | L80 L82 L83 L84 L85 L166 | L40 L42 L43 L44 L45 L46 | L48 L86 L87 L88 L89 L158 | L55 L58 L59 L60 L61 L65 | L63 L90 L91 L92 L93 L157 | L116 L119 L122 L123 L129 L132 | L114 L115 L117 L126 L178
extrude "Extrude5" cut sketch "Sketch3" along normal blind -2 and the other way blind 1.5 contours L3 L205 L206 L214 L217 L218 L222 | L33 L183 L184 L192 L195 L196 L200 | L179 L181 L185 L187 L190 L191 | L182 L188 L189 L194 L197 L199 L227 | L201 L203 L207 L209 L212 L213 | L204 L210 L211 L216 L219 L221 L223 | L7 L134 L135 L137 L146 L147 L153 | L29 L121 L124 L127 L130 L131 L133 | L25 L50 L51 L52 L53 L57 | L20 L34 L35 L36 L37 L38 | L16 L66 L67 L68 L69 L70 | L11 L94 L95 L96 L97 L101 | L136 L139 L142 L143 L150 L152 | L141 L144 L148 L151 L170 L174 | L99 L102 L103 L104 L105 L109 | L107 L110 L111 L112 L113 L165 | L72 L74 L75 L76 L77 L78 | L80 L82 L83 L84 L85 L166 | L40 L42 L43 L44 L45 L46 | L48 L86 L87 L88 L89 L158 | L55 L58 L59 L60 L61 L65 | L63 L90 L91 L92 L93 L157 | L116 L119 L122 L123 L129 L132 | L114 L115 L117 L126 L178
